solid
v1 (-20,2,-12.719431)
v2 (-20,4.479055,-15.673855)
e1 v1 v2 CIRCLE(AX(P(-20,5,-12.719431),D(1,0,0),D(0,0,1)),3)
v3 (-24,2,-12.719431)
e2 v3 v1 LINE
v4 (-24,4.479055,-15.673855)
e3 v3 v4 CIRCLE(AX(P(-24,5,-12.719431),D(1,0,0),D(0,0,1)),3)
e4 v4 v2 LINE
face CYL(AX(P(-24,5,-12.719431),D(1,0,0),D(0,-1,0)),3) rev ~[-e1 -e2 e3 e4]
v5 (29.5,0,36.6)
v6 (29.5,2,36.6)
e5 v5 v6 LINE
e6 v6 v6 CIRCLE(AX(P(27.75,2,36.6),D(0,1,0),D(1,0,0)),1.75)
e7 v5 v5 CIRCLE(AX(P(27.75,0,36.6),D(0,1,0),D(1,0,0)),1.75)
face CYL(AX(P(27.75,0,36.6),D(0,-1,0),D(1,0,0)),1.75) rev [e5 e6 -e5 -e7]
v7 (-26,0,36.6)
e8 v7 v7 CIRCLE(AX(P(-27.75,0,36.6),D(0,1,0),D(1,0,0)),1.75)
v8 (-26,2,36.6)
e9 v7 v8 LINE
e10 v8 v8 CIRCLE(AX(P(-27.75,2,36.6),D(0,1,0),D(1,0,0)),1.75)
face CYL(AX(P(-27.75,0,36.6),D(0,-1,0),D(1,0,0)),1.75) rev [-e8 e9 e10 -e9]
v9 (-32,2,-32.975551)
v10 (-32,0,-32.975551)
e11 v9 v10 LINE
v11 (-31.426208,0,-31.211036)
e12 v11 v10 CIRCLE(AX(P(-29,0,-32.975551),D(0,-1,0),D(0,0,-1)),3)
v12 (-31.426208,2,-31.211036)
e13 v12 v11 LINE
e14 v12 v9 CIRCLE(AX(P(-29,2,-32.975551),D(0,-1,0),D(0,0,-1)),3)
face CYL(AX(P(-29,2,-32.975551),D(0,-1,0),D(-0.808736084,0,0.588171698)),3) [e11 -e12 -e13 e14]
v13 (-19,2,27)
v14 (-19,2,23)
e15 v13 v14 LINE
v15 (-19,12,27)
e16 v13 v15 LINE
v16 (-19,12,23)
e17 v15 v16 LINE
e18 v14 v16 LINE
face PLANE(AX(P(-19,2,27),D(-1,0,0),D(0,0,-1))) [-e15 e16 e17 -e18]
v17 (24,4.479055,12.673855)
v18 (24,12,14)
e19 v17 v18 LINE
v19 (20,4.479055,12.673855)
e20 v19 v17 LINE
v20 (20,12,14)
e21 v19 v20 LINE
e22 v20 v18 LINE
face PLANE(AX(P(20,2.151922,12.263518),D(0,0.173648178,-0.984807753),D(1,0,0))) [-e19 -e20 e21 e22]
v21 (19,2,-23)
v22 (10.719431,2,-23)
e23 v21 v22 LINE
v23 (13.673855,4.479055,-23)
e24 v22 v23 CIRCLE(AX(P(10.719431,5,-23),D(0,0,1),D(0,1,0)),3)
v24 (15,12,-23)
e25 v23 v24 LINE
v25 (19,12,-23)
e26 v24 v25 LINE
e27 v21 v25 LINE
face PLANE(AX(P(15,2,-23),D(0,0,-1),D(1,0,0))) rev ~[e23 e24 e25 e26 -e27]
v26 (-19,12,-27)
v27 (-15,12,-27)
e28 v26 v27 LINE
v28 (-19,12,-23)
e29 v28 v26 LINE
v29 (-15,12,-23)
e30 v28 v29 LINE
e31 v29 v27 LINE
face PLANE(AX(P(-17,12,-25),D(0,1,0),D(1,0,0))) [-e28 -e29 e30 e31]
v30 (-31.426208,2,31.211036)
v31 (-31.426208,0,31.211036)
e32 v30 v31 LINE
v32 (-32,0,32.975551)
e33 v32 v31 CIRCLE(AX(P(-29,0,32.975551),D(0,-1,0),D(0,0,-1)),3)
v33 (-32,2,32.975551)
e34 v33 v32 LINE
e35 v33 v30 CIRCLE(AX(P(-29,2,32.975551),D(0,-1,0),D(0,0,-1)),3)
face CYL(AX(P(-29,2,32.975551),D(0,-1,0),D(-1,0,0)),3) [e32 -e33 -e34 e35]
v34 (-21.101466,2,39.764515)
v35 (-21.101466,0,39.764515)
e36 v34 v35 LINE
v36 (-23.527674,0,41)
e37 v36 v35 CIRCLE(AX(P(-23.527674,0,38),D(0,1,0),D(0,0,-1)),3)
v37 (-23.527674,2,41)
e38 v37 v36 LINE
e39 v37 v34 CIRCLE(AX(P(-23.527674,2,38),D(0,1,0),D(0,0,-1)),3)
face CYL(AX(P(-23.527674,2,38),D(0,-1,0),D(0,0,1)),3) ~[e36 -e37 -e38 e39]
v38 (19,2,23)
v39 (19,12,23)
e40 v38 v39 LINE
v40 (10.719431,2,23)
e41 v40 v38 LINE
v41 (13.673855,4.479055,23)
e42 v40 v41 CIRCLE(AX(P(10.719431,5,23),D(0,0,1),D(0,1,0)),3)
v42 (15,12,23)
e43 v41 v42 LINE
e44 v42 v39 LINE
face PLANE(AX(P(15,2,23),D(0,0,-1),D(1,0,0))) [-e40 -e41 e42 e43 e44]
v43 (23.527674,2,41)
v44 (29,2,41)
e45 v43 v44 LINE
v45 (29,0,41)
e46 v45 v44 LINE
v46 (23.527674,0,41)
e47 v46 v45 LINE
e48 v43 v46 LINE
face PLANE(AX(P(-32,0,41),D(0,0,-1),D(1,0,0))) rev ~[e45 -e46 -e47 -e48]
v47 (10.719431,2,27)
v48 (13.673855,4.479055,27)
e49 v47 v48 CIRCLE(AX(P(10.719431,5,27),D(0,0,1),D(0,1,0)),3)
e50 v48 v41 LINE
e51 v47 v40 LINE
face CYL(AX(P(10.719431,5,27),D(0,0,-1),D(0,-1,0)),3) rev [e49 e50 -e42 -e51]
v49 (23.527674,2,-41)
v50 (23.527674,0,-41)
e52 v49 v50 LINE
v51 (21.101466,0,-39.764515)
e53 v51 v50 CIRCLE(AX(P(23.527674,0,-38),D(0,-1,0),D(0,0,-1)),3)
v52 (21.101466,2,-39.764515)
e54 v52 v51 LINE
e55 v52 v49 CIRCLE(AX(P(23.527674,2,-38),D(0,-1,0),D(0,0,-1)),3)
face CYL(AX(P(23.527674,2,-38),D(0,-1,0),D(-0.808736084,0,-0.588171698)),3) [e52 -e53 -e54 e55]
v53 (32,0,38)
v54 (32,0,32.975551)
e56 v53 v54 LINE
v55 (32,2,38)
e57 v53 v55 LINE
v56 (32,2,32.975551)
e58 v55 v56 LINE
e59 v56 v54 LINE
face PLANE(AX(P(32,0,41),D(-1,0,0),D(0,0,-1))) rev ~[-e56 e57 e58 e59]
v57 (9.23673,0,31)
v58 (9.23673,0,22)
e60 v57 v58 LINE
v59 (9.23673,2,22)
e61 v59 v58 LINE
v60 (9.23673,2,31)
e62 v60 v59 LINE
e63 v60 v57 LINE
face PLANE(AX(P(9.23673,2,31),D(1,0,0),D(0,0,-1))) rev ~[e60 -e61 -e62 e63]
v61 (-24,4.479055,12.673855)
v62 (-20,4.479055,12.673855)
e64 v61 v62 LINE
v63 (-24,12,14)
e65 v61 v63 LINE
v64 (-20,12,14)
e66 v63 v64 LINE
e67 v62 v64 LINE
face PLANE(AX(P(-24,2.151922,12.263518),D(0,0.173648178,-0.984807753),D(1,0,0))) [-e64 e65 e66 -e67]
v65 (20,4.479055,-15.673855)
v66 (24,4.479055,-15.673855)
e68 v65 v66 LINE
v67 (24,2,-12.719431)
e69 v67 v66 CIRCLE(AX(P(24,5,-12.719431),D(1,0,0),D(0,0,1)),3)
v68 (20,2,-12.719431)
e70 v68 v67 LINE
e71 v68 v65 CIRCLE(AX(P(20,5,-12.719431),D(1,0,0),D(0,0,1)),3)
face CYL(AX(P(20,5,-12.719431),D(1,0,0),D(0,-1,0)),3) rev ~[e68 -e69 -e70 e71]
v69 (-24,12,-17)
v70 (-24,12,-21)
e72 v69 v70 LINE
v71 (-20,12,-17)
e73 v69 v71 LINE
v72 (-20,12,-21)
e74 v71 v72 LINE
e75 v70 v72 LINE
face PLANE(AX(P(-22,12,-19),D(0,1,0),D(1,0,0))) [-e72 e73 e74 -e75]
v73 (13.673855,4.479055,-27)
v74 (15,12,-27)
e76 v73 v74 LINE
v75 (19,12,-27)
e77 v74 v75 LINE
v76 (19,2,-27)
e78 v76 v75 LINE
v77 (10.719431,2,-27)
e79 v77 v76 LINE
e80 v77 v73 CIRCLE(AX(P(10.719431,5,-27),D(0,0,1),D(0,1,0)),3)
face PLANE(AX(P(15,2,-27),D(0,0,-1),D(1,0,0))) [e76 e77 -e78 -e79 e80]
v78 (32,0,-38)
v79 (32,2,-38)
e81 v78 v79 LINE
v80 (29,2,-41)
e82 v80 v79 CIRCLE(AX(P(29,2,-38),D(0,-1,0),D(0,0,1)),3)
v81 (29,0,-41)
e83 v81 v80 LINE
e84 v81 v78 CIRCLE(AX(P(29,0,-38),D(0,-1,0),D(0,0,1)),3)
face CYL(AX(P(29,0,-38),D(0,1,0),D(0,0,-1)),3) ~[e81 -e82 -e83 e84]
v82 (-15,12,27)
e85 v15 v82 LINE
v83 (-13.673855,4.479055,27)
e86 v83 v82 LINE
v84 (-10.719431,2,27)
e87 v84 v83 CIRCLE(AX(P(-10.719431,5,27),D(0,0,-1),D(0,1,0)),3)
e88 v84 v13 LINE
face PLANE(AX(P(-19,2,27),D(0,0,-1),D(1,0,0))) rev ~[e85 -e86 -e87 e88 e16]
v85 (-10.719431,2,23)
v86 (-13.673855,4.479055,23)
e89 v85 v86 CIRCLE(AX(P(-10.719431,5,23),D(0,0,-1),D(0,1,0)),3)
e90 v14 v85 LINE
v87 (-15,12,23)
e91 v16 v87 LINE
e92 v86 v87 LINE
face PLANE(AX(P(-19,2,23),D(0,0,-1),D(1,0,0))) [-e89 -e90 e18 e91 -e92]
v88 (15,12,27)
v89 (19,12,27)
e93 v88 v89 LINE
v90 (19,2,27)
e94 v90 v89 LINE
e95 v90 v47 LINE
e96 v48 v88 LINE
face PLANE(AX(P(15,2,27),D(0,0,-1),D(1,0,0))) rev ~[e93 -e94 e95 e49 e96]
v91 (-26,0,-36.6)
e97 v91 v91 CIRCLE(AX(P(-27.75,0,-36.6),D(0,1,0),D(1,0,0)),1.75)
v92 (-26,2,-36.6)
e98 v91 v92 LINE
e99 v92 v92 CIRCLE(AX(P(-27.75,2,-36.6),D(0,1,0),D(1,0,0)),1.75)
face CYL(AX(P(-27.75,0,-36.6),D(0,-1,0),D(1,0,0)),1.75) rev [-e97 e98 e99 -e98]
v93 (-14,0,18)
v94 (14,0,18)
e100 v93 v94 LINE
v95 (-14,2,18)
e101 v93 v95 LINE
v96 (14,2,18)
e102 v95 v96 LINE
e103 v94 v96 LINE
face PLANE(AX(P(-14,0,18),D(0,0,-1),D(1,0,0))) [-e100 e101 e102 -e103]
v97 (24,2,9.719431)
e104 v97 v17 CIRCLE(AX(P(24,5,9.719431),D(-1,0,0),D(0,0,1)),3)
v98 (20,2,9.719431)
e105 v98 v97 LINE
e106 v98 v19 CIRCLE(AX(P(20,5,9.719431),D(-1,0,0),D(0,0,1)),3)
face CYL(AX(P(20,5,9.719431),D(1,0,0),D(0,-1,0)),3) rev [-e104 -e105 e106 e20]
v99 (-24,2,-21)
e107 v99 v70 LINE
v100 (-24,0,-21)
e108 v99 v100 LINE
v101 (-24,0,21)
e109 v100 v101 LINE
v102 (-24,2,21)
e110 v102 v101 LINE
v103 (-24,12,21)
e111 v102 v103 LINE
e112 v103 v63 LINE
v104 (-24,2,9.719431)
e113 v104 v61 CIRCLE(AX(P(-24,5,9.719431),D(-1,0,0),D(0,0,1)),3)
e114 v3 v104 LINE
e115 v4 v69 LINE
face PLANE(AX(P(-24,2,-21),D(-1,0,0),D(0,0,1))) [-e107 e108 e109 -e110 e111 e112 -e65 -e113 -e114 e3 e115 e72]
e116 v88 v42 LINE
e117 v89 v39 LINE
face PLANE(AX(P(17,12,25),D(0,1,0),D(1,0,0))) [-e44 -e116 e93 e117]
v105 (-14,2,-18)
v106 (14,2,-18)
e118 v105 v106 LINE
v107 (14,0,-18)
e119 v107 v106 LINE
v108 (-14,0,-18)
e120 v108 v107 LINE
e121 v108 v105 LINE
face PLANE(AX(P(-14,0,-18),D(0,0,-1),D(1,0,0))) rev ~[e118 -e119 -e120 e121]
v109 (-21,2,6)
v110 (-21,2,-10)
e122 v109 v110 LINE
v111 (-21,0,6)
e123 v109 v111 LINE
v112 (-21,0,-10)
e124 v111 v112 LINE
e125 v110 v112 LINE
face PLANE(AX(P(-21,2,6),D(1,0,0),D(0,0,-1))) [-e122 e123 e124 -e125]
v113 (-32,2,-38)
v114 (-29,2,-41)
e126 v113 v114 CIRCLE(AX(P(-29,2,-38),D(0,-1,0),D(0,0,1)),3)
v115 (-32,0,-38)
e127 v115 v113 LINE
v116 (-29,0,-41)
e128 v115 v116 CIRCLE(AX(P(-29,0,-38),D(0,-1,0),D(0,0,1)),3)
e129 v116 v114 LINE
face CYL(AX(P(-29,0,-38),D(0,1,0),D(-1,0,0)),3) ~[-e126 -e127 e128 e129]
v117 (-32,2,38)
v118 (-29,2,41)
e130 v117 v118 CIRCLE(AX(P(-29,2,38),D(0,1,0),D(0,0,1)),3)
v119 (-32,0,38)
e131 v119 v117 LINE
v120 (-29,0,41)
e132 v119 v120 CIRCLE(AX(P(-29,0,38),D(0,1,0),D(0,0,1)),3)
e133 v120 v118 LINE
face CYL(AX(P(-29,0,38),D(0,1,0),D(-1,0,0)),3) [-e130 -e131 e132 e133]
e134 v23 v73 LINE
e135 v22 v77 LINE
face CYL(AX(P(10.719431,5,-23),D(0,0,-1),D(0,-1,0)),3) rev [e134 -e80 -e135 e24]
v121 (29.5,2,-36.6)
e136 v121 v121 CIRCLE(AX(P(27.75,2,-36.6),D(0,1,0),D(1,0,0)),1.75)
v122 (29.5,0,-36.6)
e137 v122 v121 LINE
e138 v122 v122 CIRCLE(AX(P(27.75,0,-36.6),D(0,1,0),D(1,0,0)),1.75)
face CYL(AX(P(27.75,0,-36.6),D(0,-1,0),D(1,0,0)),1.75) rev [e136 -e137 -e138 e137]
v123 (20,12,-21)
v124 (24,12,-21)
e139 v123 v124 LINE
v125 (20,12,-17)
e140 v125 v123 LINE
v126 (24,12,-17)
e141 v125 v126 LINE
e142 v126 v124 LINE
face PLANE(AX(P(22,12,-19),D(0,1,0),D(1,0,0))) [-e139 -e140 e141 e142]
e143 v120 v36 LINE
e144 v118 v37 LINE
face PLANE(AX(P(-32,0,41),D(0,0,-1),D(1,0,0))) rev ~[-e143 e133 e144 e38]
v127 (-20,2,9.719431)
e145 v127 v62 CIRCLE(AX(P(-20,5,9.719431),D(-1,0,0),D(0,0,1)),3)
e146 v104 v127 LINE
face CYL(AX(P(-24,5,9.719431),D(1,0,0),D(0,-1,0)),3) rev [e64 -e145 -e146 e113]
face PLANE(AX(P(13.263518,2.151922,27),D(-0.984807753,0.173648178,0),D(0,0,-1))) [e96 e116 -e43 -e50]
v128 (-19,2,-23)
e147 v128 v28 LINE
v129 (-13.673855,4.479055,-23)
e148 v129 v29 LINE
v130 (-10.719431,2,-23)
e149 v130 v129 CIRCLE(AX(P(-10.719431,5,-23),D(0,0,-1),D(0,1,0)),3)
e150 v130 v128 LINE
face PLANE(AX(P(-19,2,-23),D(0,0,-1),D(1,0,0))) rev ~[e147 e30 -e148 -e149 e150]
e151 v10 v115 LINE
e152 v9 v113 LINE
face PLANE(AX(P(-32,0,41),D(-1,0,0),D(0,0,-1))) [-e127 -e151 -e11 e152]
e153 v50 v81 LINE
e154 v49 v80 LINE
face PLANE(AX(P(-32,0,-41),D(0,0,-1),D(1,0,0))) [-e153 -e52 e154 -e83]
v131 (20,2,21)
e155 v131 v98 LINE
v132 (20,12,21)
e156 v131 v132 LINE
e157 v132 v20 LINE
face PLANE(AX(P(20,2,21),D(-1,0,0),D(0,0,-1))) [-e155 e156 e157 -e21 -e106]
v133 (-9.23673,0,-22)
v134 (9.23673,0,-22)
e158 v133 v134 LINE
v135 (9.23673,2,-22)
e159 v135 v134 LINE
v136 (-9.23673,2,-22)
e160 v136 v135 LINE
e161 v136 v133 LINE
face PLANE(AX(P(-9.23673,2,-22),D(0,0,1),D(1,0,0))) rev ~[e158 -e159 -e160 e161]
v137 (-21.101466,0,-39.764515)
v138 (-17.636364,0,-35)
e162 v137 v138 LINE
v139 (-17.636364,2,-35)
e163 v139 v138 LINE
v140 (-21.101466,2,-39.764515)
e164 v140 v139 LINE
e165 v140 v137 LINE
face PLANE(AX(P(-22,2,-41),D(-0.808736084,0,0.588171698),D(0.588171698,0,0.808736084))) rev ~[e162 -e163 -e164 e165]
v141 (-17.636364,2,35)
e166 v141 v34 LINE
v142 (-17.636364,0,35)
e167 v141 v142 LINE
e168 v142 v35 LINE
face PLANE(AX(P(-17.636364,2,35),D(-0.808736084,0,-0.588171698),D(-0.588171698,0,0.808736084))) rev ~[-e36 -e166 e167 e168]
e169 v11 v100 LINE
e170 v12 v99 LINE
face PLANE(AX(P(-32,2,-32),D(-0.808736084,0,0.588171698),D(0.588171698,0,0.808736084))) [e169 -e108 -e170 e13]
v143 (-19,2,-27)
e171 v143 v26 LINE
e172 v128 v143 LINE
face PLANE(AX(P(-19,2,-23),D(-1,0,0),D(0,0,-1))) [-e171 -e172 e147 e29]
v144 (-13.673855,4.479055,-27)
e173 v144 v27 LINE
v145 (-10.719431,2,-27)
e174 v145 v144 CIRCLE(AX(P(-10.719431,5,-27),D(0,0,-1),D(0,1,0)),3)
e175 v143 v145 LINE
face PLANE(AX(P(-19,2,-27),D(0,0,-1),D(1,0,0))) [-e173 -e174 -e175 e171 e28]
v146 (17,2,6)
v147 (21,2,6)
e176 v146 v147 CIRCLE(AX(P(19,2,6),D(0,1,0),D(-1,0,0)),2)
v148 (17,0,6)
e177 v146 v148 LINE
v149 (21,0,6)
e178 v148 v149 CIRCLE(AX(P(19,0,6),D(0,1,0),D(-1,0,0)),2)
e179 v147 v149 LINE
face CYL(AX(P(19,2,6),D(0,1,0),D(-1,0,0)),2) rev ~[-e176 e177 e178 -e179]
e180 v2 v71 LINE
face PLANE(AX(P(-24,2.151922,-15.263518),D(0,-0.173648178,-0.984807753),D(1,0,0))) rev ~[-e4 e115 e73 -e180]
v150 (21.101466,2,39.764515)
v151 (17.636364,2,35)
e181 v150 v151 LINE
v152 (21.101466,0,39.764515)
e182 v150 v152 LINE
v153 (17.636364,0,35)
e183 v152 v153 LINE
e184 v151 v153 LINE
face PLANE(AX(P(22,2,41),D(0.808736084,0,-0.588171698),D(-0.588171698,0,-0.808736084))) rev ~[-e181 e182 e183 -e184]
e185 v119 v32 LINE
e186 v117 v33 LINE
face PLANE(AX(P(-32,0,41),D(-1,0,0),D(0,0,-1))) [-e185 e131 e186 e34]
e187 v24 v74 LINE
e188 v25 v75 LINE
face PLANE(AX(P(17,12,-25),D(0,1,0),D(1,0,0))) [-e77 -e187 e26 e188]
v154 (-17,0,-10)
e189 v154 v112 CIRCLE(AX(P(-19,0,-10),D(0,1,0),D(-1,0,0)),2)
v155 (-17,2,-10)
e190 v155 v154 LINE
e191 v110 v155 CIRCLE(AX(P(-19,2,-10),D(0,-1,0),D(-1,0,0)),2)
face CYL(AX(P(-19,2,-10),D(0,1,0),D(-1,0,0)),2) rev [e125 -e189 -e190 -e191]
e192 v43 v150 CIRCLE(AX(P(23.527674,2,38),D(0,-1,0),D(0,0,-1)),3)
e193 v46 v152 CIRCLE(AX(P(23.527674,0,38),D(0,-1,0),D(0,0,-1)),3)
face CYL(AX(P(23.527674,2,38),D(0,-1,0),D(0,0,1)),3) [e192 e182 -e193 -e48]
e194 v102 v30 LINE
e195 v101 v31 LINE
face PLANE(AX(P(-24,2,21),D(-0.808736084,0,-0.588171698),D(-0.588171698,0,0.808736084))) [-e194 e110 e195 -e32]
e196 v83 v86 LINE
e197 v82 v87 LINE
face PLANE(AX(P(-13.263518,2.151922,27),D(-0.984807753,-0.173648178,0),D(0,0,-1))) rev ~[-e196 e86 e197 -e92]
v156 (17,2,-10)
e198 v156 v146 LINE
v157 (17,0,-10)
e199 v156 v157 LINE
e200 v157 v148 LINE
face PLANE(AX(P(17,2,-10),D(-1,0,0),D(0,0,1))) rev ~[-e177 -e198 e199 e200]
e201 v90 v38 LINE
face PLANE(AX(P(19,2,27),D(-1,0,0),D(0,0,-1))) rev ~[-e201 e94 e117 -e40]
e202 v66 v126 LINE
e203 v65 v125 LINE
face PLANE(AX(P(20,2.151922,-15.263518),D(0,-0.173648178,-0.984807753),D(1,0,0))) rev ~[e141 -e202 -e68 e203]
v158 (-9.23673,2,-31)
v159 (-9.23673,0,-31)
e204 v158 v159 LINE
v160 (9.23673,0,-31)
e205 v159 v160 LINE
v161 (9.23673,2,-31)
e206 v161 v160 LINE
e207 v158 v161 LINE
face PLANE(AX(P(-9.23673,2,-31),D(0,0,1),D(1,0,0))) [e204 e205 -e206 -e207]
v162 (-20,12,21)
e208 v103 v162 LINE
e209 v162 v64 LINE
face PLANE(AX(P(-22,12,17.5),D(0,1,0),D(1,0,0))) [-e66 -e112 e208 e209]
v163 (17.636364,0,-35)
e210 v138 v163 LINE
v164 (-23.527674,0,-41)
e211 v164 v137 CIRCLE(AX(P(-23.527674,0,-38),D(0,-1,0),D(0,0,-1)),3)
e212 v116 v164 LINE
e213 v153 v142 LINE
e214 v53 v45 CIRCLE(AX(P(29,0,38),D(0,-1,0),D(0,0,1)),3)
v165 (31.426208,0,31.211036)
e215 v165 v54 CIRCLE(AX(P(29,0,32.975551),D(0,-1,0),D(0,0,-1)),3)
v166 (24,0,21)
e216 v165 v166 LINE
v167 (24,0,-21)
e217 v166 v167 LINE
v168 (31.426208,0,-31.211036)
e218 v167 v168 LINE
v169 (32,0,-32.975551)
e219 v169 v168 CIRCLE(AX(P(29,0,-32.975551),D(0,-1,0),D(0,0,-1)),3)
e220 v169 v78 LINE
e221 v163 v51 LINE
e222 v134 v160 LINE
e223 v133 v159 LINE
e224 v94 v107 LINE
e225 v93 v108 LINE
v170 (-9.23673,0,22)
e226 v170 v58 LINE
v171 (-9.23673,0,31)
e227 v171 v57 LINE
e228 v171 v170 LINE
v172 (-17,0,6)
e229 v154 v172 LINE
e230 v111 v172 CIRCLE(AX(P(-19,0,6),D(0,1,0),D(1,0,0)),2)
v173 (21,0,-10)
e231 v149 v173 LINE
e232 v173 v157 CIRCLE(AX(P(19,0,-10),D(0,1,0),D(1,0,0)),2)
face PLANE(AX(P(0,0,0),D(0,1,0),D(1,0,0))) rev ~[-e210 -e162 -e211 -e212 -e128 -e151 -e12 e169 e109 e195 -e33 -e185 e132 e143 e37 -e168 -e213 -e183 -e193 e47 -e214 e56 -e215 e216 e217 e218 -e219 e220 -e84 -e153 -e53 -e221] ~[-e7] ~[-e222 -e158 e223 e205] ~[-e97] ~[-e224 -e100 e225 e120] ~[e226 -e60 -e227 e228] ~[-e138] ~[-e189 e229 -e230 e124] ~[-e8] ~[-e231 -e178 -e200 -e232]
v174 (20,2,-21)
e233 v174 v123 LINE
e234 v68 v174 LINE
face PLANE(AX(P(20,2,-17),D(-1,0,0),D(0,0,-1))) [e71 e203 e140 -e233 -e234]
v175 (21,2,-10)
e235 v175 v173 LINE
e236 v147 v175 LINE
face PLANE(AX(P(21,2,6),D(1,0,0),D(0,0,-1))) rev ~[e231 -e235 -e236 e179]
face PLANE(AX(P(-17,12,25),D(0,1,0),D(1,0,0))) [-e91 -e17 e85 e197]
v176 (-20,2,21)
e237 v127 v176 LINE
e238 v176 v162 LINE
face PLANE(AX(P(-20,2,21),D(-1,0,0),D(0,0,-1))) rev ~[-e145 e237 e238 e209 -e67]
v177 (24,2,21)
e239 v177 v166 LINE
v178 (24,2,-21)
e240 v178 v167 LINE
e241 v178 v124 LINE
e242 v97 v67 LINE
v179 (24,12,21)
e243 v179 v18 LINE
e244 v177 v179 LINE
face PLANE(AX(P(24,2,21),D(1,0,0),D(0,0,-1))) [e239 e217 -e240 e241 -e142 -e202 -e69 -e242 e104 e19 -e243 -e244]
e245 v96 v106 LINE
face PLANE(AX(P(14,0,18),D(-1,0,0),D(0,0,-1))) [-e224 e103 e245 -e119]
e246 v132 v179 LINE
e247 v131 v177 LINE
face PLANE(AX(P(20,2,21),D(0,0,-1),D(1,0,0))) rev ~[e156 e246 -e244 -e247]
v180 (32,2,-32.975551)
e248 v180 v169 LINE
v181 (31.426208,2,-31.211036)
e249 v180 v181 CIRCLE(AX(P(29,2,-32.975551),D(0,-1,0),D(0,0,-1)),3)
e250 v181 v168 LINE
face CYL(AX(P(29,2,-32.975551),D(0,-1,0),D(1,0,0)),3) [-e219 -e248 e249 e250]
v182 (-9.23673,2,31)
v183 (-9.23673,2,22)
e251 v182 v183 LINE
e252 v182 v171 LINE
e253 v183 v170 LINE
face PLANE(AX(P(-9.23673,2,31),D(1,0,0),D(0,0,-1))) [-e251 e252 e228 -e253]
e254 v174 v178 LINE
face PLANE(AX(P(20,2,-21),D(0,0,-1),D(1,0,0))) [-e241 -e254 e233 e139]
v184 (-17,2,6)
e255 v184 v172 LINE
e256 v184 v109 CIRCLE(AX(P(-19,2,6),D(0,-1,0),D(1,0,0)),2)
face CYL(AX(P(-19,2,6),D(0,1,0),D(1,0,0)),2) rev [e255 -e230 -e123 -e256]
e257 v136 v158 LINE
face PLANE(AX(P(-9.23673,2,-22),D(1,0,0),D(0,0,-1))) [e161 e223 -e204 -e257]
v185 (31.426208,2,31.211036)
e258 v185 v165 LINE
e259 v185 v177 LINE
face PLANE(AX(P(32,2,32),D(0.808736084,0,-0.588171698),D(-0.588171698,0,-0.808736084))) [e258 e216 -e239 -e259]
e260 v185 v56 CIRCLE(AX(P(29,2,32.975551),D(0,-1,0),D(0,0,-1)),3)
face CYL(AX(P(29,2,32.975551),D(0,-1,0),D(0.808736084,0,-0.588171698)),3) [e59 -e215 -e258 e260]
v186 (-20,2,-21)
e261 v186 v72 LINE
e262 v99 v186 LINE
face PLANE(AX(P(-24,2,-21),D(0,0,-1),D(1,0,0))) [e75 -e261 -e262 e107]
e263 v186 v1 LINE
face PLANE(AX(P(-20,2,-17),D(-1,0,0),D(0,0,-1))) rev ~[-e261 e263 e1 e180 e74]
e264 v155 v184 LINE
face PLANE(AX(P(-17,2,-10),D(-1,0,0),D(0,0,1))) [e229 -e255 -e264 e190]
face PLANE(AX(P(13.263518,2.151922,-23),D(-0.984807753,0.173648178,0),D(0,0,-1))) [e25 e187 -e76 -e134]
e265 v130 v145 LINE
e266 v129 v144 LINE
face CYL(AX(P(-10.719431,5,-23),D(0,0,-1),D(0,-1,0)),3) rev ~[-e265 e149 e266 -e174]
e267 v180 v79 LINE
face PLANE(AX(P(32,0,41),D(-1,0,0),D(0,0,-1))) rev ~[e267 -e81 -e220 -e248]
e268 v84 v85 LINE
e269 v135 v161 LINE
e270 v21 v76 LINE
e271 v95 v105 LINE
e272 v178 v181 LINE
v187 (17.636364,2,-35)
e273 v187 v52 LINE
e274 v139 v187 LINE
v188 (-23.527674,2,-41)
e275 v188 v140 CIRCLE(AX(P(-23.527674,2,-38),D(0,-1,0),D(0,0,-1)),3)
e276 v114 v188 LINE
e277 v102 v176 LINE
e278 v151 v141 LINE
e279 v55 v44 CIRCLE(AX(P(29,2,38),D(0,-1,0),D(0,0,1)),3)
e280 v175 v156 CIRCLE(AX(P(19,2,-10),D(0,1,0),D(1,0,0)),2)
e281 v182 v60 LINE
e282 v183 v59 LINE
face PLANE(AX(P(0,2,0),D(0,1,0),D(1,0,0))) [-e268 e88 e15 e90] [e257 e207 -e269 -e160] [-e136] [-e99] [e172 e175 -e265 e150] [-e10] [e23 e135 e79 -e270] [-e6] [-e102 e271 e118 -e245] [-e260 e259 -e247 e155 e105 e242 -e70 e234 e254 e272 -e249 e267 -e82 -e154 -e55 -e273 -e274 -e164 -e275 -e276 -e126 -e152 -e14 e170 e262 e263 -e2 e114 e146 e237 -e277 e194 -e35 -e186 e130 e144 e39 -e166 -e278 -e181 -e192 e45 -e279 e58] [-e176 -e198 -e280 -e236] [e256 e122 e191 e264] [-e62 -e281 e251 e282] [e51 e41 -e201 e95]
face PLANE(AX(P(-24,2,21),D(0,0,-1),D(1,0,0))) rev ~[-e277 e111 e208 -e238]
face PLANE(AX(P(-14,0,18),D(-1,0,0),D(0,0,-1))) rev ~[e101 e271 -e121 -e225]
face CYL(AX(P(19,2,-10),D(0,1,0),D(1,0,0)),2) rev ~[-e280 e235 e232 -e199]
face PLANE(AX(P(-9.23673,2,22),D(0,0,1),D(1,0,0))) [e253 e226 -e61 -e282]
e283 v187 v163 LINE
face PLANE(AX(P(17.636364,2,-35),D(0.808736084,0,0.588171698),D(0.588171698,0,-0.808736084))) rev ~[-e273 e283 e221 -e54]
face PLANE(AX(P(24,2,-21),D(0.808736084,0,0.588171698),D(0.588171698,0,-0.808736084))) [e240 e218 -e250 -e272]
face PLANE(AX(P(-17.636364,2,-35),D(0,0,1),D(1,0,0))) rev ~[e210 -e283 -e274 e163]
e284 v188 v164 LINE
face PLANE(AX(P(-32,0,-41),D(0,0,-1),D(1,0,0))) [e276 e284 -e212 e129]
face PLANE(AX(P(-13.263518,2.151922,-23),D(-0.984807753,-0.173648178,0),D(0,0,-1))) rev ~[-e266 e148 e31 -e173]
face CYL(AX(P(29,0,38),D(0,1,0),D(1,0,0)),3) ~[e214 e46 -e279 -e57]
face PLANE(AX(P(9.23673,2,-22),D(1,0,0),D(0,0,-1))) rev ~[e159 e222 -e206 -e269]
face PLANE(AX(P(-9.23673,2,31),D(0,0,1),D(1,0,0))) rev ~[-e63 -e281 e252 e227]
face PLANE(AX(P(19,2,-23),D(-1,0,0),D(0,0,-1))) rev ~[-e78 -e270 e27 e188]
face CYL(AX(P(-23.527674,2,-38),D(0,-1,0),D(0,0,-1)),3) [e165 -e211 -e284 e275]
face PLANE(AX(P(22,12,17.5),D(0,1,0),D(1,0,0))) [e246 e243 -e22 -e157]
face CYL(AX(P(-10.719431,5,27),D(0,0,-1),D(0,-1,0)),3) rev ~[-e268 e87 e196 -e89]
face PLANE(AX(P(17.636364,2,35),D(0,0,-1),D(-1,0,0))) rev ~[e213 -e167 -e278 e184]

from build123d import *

# Parameters (mm, degrees)
SKETCH1_W           = 64
SKETCH1_H           = 82
SKETCH1_R           = 1.75
SKETCH1_W_2         = 28
SKETCH1_H_2         = 36
BOSS_EXTRUDE1_DEPTH = 2
SKETCH4_W           = 4
SKETCH4_H           = 4
SKETCH4_H_2         = 7
BOSS_EXTRUDE2_DEPTH = 10
CUT_EXTRUDE1_DEPTH  = 3
DRAFT12_ANGLE       = 10
DRAFT13_ANGLE       = 10
SKETCH6_W           = 18.473460386
SKETCH6_H           = 9
CUT_EXTRUDE2_DEPTH  = 3
FILLET1_R           = 3
FILLET2_R           = 3


with BuildPart() as part:
    # Sketch1 → Boss-Extrude1 (new body)
    with BuildSketch(Plane(origin=(0, 0, 0), x_dir=(1, 0, 0), z_dir=(0, 1, 0))):
        Rectangle(SKETCH1_W, SKETCH1_H)
        with Locations((27.75, -36.6)):
            Circle(SKETCH1_R, mode=Mode.SUBTRACT)
        with Locations((-27.75, -36.6)):
            Circle(SKETCH1_R, mode=Mode.SUBTRACT)
        with Locations((-27.75, 36.6)):
            Circle(SKETCH1_R, mode=Mode.SUBTRACT)
        with Locations((27.75, 36.6)):
            Circle(SKETCH1_R, mode=Mode.SUBTRACT)
        Rectangle(SKETCH1_W_2, SKETCH1_H_2, mode=Mode.SUBTRACT)
    extrude(amount=BOSS_EXTRUDE1_DEPTH)

    # Sketch4 → Boss-Extrude2 (add)
    with BuildSketch(Plane(origin=(0, 2, 0), x_dir=(1, 0, 0), z_dir=(0, 1, 0))):
        with Locations((-17, -25)):
            Rectangle(SKETCH4_W, SKETCH4_H)
        with Locations((17, -25)):
            Rectangle(SKETCH4_W, SKETCH4_H)
        with Locations((-17, 25)):
            Rectangle(SKETCH4_W, SKETCH4_H)
        with Locations((17, 25)):
            Rectangle(SKETCH4_W, SKETCH4_H)
        with Locations((-22, -17.5)):
            Rectangle(SKETCH4_W, SKETCH4_H_2)
        with Locations((22, -17.5)):
            Rectangle(SKETCH4_W, SKETCH4_H_2)
        with Locations((-22, 19)):
            Rectangle(SKETCH4_W, SKETCH4_H)
        with Locations((22, 19)):
            Rectangle(SKETCH4_W, SKETCH4_H)
    extrude(amount=BOSS_EXTRUDE2_DEPTH)

    # Sketch5 → Cut-Extrude1 (cut, through all)
    with BuildSketch(Plane(origin=(0, 2, 0), x_dir=(1, 0, 0), z_dir=(0, 1, 0))):
        Polygon((-32, 32), (-24, 21), (-24, -21), (-32, -32), align=None)
        Polygon((32, -32), (24, -21), (24, 21), (32, 32), align=None)
    extrude(amount=-CUT_EXTRUDE1_DEPTH, mode=Mode.SUBTRACT)

    # Draft12
    draft12_faces = [part.faces().sort_by_distance(p)[0] for p in [
        (22, 7, 14),
        (22, 7, -17),
        (-22, 7, 14),
        (-22, 7, -17),
    ]]
    draft(draft12_faces, Plane.ZX.offset(12), DRAFT12_ANGLE)

    # Draft13
    draft13_faces = [part.faces().sort_by_distance(p)[0] for p in [
        (15, 7, 25),
        (-15, 7, 25),
        (15, 7, -25),
        (-15, 7, -25),
    ]]
    draft(draft13_faces, Plane.ZX.offset(12), DRAFT13_ANGLE)

    # Sketch6 → Cut-Extrude2 (cut, through all)
    with BuildSketch(Plane(origin=(0, 2, 0), x_dir=(1, 0, 0), z_dir=(0, 1, 0))):
        Polygon((-22, 41), (-17.636363636, 35), (17.636363636, 35), (22, 41), align=None)
        with BuildLine():
            Line((17, 10), (17, -6))
            ThreePointArc((17, -6), (19, -8), (21, -6))
            Line((21, -6), (21, 10))
            ThreePointArc((21, 10), (19, 12), (17, 10))
        make_face()
        Polygon((22, -41), (17.636363636, -35), (-17.636363636, -35), (-22, -41), align=None)
        with Locations((0, 26.5)):
            Rectangle(SKETCH6_W, SKETCH6_H)
        with Locations((0, -26.5)):
            Rectangle(SKETCH6_W, SKETCH6_H)
        with BuildLine():
            Line((-17, 10), (-17, -6))
            ThreePointArc((-17, -6), (-19, -8), (-21, -6))
            Line((-21, -6), (-21, 10))
            ThreePointArc((-21, 10), (-19, 12), (-17, 10))
        make_face()
    extrude(amount=-CUT_EXTRUDE2_DEPTH, mode=Mode.SUBTRACT)

    # Fillet1
    fillet1_edges = [part.edges().sort_by_distance(p)[0] for p in [
        (-32, 1, 32),
        (-32, 1, -32),
        (32, 1, -32),
        (32, 1, 32),
        (-22, 1, -41),
        (22, 1, -41),
        (22, 1, 41),
        (-22, 1, 41),
        (32, 1, 41),
        (-32, 1, 41),
        (-32, 1, -41),
        (32, 1, -41),
    ]]
    fillet(fillet1_edges, radius=FILLET1_R)

    # Fillet2
    fillet2_edges = [part.edges().sort_by_distance(p)[0] for p in [
        (-22, 2, 12.236730193),
        (22, 2, -15.236730193),
        (-22, 2, -15.236730193),
        (13.236730193, 2, 25),
        (-13.236730193, 2, 25),
        (-13.236730193, 2, -25),
        (13.236730193, 2, -25),
        (22, 2, 12.236730193),
    ]]
    fillet(fillet2_edges, radius=FILLET2_R)


solid = part.part
